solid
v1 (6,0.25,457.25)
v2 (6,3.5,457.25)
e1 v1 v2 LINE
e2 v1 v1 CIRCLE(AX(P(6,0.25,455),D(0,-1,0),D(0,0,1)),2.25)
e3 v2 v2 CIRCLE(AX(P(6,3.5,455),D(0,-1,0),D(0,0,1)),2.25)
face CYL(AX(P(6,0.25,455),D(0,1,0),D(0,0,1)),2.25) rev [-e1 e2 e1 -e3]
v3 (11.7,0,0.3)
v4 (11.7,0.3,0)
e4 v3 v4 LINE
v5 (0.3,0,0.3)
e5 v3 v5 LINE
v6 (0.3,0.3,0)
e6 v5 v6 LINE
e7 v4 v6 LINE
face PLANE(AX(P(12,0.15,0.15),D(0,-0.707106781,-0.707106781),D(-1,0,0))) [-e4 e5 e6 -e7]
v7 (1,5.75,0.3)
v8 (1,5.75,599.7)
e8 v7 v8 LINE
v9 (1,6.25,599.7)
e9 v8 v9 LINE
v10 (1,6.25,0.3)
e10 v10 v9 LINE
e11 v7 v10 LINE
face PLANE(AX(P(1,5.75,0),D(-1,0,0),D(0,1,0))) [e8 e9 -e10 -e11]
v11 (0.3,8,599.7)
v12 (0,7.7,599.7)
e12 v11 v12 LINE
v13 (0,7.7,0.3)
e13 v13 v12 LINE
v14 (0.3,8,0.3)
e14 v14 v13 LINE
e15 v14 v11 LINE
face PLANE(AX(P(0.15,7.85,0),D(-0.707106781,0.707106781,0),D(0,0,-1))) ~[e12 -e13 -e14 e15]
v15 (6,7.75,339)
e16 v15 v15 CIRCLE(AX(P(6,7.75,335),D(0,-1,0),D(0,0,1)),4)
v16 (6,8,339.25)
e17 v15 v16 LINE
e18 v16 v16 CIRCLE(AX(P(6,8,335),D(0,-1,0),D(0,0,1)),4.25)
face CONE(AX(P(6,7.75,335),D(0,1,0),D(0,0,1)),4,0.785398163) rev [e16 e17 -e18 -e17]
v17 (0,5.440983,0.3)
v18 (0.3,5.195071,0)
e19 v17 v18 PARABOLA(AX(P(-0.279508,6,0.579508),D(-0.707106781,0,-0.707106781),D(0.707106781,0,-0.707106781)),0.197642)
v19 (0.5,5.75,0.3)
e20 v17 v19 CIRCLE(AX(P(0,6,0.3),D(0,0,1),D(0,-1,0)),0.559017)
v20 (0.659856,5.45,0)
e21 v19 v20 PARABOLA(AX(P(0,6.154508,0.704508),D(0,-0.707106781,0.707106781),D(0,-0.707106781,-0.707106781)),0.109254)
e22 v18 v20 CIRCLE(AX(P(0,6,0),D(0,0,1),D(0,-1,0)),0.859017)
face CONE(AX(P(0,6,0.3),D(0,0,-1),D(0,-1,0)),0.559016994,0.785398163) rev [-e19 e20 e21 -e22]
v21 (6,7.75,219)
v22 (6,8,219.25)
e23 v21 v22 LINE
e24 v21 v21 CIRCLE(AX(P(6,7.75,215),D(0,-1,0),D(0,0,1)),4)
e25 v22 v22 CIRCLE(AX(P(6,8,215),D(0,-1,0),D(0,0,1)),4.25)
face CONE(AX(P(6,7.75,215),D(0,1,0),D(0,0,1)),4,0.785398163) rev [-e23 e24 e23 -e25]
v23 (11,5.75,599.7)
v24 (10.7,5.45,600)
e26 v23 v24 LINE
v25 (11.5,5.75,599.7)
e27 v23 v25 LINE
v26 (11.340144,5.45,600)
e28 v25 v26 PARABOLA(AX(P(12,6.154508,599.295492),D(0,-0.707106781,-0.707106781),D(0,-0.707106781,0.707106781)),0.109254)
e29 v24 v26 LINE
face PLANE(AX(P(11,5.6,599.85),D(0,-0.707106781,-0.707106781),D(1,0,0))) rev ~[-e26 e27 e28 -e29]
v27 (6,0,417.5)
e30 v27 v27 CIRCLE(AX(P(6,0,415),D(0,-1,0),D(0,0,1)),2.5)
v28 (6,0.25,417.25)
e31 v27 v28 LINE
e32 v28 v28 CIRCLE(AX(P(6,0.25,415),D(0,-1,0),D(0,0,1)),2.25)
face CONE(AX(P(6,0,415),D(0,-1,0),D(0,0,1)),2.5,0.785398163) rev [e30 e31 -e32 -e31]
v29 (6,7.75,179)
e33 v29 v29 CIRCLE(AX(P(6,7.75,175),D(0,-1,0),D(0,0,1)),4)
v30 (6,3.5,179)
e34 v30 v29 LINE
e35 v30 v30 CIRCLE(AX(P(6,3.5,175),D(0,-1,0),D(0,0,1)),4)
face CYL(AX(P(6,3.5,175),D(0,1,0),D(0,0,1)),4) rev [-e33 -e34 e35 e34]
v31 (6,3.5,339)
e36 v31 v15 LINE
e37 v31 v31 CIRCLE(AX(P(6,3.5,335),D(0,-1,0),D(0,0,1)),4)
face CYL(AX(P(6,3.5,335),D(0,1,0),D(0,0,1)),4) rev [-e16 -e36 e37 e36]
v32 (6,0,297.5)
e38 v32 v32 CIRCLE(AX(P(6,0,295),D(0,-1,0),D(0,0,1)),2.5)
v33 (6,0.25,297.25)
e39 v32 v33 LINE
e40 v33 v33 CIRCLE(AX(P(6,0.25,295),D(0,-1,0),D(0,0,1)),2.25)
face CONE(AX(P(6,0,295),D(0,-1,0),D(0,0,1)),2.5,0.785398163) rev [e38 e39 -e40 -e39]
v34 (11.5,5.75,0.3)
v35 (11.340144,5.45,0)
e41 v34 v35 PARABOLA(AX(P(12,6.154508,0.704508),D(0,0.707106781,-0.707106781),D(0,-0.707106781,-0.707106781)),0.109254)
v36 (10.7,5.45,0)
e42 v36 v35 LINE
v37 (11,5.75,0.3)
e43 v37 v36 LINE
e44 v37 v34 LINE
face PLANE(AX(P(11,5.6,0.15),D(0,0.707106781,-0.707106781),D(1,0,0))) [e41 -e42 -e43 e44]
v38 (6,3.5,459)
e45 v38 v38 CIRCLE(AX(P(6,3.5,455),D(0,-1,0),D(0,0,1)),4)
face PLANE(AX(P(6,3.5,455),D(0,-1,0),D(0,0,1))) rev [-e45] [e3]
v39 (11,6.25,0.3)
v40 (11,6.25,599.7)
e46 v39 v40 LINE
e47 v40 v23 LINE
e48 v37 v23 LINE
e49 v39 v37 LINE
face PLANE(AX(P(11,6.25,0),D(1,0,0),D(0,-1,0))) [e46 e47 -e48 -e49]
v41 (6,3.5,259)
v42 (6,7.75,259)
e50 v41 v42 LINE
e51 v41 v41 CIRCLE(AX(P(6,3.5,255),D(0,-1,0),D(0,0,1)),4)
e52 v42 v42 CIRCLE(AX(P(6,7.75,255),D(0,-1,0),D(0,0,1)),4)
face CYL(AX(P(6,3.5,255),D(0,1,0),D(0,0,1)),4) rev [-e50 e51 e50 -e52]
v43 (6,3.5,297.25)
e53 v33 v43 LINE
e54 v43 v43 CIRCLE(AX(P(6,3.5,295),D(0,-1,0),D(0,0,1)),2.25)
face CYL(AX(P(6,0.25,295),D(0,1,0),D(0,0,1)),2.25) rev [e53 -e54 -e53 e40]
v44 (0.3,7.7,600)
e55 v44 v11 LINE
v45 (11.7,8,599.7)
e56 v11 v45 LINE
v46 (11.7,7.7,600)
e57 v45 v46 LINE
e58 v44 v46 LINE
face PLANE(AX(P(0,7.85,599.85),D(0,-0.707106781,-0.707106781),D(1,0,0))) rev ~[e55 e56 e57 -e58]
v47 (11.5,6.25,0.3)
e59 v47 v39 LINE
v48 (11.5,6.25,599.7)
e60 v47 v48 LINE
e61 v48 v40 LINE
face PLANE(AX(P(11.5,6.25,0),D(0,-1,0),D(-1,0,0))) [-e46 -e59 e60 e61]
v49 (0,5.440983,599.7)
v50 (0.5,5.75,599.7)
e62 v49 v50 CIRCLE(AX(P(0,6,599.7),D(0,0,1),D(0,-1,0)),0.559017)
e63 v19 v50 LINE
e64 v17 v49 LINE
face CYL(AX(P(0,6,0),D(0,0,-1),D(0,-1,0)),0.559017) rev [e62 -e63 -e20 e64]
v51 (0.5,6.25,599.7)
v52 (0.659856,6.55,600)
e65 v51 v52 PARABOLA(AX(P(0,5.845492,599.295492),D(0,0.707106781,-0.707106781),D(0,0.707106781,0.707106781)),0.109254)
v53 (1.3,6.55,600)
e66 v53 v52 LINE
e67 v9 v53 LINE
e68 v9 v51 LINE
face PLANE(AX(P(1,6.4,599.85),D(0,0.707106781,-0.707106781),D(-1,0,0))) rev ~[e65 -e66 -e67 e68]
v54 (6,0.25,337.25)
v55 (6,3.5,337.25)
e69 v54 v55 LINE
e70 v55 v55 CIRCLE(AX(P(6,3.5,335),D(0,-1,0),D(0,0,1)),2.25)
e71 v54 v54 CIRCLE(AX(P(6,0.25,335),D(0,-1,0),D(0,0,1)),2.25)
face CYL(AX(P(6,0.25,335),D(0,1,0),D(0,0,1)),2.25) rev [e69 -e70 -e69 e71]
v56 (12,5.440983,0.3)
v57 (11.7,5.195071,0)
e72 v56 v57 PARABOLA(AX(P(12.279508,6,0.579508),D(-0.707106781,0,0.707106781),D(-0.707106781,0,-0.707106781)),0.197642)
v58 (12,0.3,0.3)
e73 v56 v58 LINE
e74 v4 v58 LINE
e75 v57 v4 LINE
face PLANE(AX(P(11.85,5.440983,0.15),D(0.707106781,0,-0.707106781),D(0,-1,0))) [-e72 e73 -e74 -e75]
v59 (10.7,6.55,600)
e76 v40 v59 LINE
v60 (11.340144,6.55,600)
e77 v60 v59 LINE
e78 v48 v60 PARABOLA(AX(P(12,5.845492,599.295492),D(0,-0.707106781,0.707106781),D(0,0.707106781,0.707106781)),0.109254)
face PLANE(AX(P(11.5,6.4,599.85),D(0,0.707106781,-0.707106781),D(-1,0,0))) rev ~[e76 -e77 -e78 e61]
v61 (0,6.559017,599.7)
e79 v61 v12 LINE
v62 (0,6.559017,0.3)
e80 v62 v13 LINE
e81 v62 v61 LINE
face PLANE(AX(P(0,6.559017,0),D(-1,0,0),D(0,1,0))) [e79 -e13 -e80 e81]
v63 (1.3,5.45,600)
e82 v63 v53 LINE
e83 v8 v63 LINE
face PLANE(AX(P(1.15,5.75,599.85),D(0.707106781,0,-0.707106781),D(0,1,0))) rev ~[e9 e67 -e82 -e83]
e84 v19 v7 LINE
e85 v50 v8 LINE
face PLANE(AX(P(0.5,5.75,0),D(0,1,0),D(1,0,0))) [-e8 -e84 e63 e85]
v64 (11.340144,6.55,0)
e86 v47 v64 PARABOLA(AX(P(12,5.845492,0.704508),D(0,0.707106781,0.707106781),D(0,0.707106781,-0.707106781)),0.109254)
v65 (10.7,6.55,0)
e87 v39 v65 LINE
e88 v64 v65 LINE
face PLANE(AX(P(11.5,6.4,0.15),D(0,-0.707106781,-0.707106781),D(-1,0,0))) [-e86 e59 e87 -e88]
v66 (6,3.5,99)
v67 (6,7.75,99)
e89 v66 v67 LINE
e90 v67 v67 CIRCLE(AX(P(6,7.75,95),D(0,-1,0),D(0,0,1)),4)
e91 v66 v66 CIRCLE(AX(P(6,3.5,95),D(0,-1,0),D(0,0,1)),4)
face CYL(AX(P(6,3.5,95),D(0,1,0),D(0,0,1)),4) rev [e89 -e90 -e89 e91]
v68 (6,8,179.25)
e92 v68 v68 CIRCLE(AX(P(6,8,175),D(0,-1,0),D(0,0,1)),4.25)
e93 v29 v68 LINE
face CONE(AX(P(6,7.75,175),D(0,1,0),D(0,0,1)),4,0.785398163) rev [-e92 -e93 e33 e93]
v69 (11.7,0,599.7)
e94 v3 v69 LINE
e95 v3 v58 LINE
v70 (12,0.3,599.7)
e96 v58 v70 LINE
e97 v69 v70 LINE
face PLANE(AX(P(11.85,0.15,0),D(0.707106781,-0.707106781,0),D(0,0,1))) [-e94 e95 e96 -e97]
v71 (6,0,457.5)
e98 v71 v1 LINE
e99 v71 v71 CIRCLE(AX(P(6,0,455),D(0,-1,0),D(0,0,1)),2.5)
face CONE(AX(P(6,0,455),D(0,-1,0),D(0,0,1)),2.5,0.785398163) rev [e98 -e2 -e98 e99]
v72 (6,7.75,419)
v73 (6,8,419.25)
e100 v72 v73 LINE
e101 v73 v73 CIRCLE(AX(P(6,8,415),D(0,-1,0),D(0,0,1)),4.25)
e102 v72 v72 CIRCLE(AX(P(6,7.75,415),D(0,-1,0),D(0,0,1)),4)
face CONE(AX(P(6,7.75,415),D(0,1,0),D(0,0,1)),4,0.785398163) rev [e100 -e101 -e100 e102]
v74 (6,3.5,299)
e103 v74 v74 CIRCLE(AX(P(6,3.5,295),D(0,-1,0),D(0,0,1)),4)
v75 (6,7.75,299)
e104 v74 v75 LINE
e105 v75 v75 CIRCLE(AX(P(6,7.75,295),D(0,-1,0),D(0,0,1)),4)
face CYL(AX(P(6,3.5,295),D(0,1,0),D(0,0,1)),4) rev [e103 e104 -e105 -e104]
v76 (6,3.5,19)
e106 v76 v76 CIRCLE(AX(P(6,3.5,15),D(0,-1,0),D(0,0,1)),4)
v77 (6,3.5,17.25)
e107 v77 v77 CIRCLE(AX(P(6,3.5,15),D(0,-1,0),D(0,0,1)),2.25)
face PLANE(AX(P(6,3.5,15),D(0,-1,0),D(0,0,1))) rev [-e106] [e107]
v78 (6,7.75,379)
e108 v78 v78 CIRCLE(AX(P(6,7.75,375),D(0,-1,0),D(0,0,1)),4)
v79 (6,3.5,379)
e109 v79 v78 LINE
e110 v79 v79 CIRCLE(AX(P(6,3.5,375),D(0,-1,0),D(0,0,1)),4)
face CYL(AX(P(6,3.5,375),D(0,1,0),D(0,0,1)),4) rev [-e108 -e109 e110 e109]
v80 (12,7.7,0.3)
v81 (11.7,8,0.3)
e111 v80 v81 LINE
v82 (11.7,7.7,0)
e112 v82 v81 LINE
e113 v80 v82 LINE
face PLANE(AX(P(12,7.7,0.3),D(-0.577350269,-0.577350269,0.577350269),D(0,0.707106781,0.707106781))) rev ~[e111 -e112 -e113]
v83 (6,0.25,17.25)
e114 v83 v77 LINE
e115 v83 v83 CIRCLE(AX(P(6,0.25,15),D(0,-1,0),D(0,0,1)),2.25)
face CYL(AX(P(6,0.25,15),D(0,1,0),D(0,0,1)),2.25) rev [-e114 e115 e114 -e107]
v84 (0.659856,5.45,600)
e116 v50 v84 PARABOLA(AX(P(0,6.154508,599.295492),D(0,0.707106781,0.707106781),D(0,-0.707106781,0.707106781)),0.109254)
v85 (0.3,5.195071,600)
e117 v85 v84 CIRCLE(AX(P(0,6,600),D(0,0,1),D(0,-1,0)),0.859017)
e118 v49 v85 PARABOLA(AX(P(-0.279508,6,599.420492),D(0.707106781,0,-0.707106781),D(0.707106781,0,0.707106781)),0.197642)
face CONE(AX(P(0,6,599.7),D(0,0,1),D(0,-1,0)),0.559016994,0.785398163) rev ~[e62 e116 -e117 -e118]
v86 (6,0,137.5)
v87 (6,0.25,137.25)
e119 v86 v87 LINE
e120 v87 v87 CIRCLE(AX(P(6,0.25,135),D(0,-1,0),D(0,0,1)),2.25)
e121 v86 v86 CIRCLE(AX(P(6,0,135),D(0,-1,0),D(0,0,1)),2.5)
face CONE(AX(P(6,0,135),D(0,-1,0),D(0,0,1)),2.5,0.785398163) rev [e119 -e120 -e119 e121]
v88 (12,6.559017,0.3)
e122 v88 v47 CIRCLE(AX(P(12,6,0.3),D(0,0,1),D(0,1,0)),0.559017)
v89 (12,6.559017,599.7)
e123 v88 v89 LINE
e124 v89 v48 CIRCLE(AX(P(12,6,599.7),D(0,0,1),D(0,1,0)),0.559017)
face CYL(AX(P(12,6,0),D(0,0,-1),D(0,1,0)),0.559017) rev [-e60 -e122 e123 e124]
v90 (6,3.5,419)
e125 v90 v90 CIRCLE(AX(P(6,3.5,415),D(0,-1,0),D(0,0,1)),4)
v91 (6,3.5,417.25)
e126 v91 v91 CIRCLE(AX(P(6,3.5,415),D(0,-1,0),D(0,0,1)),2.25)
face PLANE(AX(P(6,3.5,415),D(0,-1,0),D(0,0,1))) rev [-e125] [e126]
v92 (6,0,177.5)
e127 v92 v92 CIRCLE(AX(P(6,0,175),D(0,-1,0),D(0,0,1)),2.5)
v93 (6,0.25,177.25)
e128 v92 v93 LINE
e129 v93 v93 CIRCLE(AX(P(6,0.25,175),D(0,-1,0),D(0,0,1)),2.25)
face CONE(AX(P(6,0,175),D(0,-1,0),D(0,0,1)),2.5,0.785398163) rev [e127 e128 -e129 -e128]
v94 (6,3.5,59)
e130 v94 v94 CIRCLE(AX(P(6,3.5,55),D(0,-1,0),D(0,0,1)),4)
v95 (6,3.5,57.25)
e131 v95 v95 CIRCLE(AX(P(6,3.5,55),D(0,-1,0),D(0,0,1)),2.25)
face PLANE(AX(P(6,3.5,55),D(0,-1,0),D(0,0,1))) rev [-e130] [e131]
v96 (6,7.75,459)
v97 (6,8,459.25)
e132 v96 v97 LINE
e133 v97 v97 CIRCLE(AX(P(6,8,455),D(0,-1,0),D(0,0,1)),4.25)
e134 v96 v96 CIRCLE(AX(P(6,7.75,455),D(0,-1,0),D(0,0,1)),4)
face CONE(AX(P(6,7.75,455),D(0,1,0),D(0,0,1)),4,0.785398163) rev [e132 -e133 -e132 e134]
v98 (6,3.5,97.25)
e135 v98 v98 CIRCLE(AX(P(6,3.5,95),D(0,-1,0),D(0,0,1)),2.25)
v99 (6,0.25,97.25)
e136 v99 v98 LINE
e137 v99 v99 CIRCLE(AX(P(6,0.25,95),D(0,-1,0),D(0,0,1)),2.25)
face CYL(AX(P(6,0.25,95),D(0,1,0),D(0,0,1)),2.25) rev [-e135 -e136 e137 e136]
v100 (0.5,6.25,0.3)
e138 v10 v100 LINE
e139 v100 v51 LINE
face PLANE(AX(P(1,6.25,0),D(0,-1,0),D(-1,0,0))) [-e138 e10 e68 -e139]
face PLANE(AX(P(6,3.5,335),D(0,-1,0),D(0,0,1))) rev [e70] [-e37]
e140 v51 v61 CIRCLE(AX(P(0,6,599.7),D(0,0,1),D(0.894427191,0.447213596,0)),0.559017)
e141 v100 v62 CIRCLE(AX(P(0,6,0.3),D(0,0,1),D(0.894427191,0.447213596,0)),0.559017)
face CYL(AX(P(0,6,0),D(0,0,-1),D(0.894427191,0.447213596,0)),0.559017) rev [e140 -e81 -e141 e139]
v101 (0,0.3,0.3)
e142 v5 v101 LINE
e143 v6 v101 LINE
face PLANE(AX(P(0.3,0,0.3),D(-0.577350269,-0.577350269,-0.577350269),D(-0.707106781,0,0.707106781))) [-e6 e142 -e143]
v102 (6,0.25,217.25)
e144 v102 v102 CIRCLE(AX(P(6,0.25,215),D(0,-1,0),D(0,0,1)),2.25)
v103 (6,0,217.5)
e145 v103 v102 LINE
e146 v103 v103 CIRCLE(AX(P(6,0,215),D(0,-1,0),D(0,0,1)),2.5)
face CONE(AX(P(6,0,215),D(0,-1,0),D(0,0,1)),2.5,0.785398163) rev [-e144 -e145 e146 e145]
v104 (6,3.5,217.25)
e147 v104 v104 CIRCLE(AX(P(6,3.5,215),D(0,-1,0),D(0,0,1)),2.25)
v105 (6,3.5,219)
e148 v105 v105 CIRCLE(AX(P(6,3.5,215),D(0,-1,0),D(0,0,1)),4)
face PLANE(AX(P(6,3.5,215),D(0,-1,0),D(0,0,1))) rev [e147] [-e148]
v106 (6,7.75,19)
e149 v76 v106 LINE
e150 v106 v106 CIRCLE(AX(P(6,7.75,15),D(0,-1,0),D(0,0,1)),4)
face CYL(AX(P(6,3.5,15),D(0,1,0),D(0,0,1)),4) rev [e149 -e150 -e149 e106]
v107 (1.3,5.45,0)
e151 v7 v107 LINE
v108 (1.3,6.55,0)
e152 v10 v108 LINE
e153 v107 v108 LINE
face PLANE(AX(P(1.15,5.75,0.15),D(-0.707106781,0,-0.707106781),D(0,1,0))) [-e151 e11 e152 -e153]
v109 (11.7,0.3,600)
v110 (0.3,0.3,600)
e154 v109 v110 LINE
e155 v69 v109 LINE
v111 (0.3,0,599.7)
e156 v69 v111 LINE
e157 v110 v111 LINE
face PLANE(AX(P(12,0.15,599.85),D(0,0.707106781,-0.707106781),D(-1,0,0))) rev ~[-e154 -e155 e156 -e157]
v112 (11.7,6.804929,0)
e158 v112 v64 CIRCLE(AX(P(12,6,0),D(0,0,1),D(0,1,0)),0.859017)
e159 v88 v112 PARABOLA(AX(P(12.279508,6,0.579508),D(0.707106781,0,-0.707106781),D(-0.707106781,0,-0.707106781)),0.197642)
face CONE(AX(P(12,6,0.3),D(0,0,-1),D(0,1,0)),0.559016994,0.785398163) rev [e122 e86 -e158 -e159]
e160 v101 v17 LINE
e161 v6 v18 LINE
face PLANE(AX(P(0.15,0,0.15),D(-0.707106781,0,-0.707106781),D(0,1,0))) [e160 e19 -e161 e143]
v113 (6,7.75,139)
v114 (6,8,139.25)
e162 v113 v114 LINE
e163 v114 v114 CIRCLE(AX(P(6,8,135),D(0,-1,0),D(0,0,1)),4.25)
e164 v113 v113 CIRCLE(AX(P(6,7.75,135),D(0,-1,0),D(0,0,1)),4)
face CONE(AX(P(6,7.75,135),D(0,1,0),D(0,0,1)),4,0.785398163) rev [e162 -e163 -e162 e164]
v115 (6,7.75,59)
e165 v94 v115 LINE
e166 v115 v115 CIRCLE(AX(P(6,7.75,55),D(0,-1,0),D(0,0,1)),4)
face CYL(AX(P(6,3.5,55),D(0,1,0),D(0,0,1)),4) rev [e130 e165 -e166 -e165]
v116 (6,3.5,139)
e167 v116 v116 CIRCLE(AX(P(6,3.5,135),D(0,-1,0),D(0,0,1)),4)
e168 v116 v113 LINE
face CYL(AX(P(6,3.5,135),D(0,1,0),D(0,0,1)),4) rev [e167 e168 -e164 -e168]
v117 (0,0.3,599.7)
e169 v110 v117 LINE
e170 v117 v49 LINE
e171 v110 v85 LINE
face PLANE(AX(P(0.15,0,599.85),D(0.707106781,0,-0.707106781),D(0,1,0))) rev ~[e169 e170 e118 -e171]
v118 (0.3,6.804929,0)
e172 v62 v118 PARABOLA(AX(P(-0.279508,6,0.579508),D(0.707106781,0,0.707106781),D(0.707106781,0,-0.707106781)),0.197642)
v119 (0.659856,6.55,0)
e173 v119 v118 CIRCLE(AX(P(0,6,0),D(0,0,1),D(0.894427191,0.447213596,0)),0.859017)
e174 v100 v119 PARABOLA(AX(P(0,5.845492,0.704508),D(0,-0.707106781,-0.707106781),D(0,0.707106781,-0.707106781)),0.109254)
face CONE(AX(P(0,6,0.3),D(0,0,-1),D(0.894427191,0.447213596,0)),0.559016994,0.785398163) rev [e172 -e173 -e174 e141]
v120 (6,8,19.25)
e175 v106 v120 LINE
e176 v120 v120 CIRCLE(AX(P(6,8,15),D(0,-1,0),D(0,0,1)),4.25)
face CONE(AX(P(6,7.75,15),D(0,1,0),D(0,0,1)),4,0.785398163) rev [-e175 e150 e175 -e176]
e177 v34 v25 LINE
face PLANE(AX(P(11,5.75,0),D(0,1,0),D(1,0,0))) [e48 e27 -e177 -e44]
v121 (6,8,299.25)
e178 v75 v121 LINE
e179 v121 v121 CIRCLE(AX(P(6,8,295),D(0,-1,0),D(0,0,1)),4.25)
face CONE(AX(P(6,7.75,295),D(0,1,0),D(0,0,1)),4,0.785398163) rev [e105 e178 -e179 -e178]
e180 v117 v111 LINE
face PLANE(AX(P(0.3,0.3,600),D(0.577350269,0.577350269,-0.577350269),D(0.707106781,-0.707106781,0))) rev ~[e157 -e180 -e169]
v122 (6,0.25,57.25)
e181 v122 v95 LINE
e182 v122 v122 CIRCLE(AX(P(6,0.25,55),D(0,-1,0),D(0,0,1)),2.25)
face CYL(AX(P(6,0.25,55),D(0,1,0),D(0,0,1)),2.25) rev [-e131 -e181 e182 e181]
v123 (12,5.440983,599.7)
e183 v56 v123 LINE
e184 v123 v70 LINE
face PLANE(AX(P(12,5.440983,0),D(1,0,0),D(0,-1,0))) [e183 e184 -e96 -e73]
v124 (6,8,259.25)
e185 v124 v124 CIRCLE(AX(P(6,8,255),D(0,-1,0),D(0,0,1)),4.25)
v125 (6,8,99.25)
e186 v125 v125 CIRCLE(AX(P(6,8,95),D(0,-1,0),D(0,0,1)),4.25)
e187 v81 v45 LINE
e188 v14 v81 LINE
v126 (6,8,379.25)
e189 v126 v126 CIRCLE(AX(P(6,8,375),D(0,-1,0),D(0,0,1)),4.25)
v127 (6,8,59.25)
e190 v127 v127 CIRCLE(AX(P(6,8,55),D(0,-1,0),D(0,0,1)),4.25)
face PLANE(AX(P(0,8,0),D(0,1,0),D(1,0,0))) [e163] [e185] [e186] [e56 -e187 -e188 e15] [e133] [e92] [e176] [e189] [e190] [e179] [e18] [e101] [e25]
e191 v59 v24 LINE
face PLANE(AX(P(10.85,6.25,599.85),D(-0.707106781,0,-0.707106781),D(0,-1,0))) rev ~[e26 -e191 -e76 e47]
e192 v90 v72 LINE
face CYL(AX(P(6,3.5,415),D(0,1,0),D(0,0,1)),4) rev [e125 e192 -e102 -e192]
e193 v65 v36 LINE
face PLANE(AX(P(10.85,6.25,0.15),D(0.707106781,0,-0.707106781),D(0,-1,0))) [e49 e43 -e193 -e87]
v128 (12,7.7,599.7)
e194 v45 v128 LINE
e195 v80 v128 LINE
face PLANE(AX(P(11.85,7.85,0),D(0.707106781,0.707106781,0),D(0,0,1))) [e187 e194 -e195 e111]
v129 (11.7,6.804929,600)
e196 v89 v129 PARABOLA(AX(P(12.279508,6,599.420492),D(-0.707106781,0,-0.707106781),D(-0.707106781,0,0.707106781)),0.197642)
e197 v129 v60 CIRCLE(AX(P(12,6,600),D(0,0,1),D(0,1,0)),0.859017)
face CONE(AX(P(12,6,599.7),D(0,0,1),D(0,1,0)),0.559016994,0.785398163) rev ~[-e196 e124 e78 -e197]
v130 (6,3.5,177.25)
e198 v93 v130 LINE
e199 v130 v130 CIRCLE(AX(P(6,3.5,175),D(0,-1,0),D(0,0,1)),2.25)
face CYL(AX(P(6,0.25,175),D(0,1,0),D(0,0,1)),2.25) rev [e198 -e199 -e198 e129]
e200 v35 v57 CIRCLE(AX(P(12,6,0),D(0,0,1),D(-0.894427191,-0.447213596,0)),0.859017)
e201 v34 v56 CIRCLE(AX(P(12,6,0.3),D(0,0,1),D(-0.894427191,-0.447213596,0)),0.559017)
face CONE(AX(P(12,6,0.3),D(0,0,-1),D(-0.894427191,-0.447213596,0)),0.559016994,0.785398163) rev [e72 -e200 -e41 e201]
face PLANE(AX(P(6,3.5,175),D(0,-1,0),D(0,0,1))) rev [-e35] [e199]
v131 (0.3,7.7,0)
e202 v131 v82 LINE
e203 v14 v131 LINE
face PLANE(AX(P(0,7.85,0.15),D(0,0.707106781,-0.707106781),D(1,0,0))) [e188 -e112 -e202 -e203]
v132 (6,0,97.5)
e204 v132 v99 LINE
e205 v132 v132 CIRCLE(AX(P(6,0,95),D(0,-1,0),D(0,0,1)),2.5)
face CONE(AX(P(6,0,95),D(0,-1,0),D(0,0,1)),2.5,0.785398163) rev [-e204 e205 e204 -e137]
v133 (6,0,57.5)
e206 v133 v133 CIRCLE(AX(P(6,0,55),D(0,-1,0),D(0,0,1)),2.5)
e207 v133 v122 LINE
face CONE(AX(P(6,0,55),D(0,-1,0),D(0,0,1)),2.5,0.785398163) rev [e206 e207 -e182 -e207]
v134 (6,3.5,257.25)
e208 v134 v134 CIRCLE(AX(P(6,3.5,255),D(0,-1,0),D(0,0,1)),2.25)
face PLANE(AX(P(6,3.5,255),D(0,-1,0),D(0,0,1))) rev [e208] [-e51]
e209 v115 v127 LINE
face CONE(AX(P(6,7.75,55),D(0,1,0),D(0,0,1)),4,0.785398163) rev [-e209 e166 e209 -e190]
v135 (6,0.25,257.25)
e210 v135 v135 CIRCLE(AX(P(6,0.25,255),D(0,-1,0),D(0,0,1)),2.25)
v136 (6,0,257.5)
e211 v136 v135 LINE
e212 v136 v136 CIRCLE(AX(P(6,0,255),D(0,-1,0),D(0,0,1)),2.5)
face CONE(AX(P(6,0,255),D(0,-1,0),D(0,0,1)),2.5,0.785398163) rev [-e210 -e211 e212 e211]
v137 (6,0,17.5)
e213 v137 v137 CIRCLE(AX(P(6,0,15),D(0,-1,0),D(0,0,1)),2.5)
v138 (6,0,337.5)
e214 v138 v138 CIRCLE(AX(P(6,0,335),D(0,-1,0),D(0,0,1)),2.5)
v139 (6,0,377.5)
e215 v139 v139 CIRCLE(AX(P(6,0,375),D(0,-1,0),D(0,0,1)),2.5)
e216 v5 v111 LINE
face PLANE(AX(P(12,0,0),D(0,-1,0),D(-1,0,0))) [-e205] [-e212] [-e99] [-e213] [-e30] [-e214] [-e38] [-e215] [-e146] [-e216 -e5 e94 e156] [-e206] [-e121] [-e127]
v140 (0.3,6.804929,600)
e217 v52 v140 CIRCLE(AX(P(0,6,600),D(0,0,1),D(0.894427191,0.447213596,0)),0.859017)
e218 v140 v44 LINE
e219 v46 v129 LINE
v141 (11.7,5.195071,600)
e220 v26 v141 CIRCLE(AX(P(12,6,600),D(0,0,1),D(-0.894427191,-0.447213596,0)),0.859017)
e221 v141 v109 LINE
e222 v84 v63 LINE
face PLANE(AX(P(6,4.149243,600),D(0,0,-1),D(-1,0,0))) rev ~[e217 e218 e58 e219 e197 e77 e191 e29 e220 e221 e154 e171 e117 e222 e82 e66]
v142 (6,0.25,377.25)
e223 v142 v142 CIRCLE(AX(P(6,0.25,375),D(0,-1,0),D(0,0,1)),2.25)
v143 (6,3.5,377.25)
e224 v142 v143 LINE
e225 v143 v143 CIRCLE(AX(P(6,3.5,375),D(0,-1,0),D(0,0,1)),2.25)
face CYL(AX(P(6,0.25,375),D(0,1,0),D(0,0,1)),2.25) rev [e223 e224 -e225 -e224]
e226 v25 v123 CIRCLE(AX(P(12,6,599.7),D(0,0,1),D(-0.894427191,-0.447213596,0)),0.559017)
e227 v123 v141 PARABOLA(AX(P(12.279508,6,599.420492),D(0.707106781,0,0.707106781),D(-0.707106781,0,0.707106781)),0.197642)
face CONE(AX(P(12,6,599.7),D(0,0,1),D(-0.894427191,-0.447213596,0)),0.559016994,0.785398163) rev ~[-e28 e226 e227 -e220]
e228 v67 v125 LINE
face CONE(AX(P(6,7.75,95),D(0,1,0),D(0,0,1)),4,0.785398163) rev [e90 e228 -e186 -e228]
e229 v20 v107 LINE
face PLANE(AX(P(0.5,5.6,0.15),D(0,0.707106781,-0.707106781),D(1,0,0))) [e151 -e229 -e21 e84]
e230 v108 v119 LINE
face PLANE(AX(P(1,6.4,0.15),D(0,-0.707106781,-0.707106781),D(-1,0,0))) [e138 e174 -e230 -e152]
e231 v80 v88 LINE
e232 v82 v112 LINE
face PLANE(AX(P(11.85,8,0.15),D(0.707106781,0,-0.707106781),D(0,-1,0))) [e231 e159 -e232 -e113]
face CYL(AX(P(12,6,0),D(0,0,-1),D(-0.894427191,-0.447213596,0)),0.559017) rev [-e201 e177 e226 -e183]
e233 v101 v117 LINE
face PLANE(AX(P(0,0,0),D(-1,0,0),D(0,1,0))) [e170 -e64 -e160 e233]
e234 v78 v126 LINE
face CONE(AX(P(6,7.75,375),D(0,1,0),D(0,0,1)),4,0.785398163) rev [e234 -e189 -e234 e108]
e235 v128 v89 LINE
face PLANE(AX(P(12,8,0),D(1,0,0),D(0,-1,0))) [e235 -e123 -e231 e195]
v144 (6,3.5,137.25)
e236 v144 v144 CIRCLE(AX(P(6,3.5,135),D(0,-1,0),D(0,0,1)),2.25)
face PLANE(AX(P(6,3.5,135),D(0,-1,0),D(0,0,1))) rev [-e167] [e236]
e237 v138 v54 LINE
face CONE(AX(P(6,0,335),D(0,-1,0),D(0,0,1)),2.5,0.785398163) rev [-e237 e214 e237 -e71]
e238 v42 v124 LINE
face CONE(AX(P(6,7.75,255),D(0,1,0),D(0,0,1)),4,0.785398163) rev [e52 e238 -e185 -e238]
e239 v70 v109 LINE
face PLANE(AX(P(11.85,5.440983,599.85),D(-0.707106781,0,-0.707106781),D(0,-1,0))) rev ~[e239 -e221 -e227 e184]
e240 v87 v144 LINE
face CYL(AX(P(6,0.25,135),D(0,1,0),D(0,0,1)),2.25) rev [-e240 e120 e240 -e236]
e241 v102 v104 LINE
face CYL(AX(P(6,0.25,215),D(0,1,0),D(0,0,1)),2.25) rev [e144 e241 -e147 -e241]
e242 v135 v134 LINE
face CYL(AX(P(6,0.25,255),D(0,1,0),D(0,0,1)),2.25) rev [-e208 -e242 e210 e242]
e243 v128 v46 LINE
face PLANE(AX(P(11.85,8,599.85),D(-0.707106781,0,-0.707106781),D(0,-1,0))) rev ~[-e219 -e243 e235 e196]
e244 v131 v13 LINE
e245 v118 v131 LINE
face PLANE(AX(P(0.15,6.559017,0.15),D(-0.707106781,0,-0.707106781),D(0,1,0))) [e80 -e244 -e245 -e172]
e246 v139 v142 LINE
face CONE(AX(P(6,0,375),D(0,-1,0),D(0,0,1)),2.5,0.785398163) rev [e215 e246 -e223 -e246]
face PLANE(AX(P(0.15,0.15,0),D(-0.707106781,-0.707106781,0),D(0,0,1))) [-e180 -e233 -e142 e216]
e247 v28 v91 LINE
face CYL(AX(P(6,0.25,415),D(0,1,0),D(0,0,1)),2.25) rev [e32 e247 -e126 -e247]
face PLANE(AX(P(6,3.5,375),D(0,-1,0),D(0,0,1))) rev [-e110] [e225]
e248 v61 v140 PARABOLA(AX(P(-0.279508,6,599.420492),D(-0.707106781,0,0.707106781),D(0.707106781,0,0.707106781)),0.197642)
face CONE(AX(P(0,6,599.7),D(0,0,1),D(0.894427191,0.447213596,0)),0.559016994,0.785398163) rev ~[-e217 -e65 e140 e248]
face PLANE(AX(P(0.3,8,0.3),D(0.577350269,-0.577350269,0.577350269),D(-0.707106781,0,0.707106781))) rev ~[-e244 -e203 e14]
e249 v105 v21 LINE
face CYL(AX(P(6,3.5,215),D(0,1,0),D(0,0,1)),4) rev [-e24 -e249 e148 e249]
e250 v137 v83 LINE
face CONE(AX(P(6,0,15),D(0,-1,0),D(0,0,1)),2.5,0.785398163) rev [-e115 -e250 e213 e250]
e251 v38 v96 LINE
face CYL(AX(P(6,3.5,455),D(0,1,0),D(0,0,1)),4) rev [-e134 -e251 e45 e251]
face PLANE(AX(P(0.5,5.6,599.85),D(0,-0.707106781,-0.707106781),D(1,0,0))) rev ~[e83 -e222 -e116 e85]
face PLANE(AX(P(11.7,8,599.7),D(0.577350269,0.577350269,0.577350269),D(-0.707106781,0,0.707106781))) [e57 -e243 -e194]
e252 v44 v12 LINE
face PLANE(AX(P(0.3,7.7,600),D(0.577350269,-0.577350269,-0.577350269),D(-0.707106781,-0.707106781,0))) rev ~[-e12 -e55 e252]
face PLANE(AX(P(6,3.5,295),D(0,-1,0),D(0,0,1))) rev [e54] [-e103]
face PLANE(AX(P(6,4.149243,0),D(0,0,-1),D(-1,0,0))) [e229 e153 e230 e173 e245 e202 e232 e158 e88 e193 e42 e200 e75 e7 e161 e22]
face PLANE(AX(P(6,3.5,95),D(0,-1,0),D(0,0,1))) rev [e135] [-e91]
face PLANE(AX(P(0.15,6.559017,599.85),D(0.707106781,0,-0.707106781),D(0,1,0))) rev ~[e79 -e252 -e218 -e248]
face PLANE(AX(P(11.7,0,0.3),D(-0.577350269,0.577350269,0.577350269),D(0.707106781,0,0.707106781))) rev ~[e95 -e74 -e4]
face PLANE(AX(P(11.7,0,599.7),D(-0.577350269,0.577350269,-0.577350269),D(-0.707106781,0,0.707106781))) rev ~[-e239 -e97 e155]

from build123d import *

# Parameters (mm, degrees)
BOSS_EXTRUDE1_DEPTH = 600
CHAMFER1_SIZE       = 0.3
LPATTERN1_COUNT     = 12
LPATTERN1_PITCH     = 40


with BuildPart() as part:
    # Sketch1 → Boss-Extrude1 (new body)
    with BuildSketch(Plane.XY):
        with BuildLine():
            Line((0, 8), (12, 8))
            Line((12, 8), (12, 6.75))
            Line((12, 6.75), (12, 6.559016994))
            ThreePointArc((12, 6.559016994), (11.706107374, 6.475528258), (11.5, 6.25))
            Line((11.5, 6.25), (11, 6.25))
            Line((11, 6.25), (11, 5.75))
            Line((11, 5.75), (11.5, 5.75))
            ThreePointArc((11.5, 5.75), (11.706107374, 5.524471742), (12, 5.440983006))
            Line((12, 5.440983006), (12, 5.25))
            Line((12, 5.25), (12, 0))
            Line((12, 0), (0, 0))
            Line((0, 0), (0, 5.25))
            Line((0, 5.25), (0, 5.440983006))
            ThreePointArc((0, 5.440983006), (0.293892626, 5.524471742), (0.5, 5.75))
            Line((0.5, 5.75), (1, 5.75))
            Line((1, 5.75), (1, 6.25))
            Line((1, 6.25), (0.5, 6.25))
            ThreePointArc((0.5, 6.25), (0.293892626, 6.475528258), (0, 6.559016994))
            Line((0, 6.559016994), (0, 6.75))
            Line((0, 6.75), (0, 8))
        make_face()
    extrude(amount=BOSS_EXTRUDE1_DEPTH)

    # Chamfer1
    chamfer1_edges = [part.edges().sort_by_distance(p)[0] for p in [
        (12, 2.720491503, 600),
        (11.706107374, 5.524471742, 600),
        (0, 2.720491503, 0),
        (0.293892626, 5.524471742, 0),
        (0.75, 5.75, 0),
        (1, 6, 0),
        (0.75, 6.25, 0),
        (11.25, 5.75, 600),
        (0.293892626, 6.475528258, 0),
        (0, 7.279508497, 0),
        (6, 8, 0),
        (12, 7.279508497, 0),
        (11.706107374, 6.475528258, 0),
        (11, 6, 600),
        (11.25, 6.25, 0),
        (11, 6, 0),
        (11.25, 5.75, 0),
        (11.706107374, 5.524471742, 0),
        (12, 2.720491503, 0),
        (6, 0, 0),
        (11.25, 6.25, 600),
        (11.706107374, 6.475528258, 600),
        (12, 7.279508497, 600),
        (0, 8, 300),
        (12, 8, 300),
        (12, 0, 300),
        (0, 0, 300),
        (6, 8, 600),
        (0, 2.720491503, 600),
        (0, 7.279508497, 600),
        (0.293892626, 6.475528258, 600),
        (0.75, 6.25, 600),
        (1, 6, 600),
        (0.75, 5.75, 600),
        (0.293892626, 5.524471742, 600),
        (6, 0, 600),
    ]]
    chamfer(chamfer1_edges, length=CHAMFER1_SIZE)

    # Sketch3 → CBORE for M5 Hex Head Bolt1 (revolve, cut)
    with BuildSketch(Plane(origin=(6, 8, 15), x_dir=(0, 0, 1), z_dir=(1, 0, 0))):
        Polygon((0, 0), (0, 8), (2.5, 8), (2.25, 7.75), (2.25, 4.5), (4, 4.5), (4, 0.25), (4.25, 0), align=None)
    cbore_for_m5_hex_head_bolt1 = revolve(axis=Axis((6, 14.35, 15), (0, -1, 0)), mode=Mode.SUBTRACT)

    # LPattern1: CBORE for M5 Hex Head Bolt1 ×12
    with Locations(*[(0, 0, i * LPATTERN1_PITCH) for i in range(1, LPATTERN1_COUNT)]):
        add(cbore_for_m5_hex_head_bolt1, mode=Mode.SUBTRACT)


solid = part.part
